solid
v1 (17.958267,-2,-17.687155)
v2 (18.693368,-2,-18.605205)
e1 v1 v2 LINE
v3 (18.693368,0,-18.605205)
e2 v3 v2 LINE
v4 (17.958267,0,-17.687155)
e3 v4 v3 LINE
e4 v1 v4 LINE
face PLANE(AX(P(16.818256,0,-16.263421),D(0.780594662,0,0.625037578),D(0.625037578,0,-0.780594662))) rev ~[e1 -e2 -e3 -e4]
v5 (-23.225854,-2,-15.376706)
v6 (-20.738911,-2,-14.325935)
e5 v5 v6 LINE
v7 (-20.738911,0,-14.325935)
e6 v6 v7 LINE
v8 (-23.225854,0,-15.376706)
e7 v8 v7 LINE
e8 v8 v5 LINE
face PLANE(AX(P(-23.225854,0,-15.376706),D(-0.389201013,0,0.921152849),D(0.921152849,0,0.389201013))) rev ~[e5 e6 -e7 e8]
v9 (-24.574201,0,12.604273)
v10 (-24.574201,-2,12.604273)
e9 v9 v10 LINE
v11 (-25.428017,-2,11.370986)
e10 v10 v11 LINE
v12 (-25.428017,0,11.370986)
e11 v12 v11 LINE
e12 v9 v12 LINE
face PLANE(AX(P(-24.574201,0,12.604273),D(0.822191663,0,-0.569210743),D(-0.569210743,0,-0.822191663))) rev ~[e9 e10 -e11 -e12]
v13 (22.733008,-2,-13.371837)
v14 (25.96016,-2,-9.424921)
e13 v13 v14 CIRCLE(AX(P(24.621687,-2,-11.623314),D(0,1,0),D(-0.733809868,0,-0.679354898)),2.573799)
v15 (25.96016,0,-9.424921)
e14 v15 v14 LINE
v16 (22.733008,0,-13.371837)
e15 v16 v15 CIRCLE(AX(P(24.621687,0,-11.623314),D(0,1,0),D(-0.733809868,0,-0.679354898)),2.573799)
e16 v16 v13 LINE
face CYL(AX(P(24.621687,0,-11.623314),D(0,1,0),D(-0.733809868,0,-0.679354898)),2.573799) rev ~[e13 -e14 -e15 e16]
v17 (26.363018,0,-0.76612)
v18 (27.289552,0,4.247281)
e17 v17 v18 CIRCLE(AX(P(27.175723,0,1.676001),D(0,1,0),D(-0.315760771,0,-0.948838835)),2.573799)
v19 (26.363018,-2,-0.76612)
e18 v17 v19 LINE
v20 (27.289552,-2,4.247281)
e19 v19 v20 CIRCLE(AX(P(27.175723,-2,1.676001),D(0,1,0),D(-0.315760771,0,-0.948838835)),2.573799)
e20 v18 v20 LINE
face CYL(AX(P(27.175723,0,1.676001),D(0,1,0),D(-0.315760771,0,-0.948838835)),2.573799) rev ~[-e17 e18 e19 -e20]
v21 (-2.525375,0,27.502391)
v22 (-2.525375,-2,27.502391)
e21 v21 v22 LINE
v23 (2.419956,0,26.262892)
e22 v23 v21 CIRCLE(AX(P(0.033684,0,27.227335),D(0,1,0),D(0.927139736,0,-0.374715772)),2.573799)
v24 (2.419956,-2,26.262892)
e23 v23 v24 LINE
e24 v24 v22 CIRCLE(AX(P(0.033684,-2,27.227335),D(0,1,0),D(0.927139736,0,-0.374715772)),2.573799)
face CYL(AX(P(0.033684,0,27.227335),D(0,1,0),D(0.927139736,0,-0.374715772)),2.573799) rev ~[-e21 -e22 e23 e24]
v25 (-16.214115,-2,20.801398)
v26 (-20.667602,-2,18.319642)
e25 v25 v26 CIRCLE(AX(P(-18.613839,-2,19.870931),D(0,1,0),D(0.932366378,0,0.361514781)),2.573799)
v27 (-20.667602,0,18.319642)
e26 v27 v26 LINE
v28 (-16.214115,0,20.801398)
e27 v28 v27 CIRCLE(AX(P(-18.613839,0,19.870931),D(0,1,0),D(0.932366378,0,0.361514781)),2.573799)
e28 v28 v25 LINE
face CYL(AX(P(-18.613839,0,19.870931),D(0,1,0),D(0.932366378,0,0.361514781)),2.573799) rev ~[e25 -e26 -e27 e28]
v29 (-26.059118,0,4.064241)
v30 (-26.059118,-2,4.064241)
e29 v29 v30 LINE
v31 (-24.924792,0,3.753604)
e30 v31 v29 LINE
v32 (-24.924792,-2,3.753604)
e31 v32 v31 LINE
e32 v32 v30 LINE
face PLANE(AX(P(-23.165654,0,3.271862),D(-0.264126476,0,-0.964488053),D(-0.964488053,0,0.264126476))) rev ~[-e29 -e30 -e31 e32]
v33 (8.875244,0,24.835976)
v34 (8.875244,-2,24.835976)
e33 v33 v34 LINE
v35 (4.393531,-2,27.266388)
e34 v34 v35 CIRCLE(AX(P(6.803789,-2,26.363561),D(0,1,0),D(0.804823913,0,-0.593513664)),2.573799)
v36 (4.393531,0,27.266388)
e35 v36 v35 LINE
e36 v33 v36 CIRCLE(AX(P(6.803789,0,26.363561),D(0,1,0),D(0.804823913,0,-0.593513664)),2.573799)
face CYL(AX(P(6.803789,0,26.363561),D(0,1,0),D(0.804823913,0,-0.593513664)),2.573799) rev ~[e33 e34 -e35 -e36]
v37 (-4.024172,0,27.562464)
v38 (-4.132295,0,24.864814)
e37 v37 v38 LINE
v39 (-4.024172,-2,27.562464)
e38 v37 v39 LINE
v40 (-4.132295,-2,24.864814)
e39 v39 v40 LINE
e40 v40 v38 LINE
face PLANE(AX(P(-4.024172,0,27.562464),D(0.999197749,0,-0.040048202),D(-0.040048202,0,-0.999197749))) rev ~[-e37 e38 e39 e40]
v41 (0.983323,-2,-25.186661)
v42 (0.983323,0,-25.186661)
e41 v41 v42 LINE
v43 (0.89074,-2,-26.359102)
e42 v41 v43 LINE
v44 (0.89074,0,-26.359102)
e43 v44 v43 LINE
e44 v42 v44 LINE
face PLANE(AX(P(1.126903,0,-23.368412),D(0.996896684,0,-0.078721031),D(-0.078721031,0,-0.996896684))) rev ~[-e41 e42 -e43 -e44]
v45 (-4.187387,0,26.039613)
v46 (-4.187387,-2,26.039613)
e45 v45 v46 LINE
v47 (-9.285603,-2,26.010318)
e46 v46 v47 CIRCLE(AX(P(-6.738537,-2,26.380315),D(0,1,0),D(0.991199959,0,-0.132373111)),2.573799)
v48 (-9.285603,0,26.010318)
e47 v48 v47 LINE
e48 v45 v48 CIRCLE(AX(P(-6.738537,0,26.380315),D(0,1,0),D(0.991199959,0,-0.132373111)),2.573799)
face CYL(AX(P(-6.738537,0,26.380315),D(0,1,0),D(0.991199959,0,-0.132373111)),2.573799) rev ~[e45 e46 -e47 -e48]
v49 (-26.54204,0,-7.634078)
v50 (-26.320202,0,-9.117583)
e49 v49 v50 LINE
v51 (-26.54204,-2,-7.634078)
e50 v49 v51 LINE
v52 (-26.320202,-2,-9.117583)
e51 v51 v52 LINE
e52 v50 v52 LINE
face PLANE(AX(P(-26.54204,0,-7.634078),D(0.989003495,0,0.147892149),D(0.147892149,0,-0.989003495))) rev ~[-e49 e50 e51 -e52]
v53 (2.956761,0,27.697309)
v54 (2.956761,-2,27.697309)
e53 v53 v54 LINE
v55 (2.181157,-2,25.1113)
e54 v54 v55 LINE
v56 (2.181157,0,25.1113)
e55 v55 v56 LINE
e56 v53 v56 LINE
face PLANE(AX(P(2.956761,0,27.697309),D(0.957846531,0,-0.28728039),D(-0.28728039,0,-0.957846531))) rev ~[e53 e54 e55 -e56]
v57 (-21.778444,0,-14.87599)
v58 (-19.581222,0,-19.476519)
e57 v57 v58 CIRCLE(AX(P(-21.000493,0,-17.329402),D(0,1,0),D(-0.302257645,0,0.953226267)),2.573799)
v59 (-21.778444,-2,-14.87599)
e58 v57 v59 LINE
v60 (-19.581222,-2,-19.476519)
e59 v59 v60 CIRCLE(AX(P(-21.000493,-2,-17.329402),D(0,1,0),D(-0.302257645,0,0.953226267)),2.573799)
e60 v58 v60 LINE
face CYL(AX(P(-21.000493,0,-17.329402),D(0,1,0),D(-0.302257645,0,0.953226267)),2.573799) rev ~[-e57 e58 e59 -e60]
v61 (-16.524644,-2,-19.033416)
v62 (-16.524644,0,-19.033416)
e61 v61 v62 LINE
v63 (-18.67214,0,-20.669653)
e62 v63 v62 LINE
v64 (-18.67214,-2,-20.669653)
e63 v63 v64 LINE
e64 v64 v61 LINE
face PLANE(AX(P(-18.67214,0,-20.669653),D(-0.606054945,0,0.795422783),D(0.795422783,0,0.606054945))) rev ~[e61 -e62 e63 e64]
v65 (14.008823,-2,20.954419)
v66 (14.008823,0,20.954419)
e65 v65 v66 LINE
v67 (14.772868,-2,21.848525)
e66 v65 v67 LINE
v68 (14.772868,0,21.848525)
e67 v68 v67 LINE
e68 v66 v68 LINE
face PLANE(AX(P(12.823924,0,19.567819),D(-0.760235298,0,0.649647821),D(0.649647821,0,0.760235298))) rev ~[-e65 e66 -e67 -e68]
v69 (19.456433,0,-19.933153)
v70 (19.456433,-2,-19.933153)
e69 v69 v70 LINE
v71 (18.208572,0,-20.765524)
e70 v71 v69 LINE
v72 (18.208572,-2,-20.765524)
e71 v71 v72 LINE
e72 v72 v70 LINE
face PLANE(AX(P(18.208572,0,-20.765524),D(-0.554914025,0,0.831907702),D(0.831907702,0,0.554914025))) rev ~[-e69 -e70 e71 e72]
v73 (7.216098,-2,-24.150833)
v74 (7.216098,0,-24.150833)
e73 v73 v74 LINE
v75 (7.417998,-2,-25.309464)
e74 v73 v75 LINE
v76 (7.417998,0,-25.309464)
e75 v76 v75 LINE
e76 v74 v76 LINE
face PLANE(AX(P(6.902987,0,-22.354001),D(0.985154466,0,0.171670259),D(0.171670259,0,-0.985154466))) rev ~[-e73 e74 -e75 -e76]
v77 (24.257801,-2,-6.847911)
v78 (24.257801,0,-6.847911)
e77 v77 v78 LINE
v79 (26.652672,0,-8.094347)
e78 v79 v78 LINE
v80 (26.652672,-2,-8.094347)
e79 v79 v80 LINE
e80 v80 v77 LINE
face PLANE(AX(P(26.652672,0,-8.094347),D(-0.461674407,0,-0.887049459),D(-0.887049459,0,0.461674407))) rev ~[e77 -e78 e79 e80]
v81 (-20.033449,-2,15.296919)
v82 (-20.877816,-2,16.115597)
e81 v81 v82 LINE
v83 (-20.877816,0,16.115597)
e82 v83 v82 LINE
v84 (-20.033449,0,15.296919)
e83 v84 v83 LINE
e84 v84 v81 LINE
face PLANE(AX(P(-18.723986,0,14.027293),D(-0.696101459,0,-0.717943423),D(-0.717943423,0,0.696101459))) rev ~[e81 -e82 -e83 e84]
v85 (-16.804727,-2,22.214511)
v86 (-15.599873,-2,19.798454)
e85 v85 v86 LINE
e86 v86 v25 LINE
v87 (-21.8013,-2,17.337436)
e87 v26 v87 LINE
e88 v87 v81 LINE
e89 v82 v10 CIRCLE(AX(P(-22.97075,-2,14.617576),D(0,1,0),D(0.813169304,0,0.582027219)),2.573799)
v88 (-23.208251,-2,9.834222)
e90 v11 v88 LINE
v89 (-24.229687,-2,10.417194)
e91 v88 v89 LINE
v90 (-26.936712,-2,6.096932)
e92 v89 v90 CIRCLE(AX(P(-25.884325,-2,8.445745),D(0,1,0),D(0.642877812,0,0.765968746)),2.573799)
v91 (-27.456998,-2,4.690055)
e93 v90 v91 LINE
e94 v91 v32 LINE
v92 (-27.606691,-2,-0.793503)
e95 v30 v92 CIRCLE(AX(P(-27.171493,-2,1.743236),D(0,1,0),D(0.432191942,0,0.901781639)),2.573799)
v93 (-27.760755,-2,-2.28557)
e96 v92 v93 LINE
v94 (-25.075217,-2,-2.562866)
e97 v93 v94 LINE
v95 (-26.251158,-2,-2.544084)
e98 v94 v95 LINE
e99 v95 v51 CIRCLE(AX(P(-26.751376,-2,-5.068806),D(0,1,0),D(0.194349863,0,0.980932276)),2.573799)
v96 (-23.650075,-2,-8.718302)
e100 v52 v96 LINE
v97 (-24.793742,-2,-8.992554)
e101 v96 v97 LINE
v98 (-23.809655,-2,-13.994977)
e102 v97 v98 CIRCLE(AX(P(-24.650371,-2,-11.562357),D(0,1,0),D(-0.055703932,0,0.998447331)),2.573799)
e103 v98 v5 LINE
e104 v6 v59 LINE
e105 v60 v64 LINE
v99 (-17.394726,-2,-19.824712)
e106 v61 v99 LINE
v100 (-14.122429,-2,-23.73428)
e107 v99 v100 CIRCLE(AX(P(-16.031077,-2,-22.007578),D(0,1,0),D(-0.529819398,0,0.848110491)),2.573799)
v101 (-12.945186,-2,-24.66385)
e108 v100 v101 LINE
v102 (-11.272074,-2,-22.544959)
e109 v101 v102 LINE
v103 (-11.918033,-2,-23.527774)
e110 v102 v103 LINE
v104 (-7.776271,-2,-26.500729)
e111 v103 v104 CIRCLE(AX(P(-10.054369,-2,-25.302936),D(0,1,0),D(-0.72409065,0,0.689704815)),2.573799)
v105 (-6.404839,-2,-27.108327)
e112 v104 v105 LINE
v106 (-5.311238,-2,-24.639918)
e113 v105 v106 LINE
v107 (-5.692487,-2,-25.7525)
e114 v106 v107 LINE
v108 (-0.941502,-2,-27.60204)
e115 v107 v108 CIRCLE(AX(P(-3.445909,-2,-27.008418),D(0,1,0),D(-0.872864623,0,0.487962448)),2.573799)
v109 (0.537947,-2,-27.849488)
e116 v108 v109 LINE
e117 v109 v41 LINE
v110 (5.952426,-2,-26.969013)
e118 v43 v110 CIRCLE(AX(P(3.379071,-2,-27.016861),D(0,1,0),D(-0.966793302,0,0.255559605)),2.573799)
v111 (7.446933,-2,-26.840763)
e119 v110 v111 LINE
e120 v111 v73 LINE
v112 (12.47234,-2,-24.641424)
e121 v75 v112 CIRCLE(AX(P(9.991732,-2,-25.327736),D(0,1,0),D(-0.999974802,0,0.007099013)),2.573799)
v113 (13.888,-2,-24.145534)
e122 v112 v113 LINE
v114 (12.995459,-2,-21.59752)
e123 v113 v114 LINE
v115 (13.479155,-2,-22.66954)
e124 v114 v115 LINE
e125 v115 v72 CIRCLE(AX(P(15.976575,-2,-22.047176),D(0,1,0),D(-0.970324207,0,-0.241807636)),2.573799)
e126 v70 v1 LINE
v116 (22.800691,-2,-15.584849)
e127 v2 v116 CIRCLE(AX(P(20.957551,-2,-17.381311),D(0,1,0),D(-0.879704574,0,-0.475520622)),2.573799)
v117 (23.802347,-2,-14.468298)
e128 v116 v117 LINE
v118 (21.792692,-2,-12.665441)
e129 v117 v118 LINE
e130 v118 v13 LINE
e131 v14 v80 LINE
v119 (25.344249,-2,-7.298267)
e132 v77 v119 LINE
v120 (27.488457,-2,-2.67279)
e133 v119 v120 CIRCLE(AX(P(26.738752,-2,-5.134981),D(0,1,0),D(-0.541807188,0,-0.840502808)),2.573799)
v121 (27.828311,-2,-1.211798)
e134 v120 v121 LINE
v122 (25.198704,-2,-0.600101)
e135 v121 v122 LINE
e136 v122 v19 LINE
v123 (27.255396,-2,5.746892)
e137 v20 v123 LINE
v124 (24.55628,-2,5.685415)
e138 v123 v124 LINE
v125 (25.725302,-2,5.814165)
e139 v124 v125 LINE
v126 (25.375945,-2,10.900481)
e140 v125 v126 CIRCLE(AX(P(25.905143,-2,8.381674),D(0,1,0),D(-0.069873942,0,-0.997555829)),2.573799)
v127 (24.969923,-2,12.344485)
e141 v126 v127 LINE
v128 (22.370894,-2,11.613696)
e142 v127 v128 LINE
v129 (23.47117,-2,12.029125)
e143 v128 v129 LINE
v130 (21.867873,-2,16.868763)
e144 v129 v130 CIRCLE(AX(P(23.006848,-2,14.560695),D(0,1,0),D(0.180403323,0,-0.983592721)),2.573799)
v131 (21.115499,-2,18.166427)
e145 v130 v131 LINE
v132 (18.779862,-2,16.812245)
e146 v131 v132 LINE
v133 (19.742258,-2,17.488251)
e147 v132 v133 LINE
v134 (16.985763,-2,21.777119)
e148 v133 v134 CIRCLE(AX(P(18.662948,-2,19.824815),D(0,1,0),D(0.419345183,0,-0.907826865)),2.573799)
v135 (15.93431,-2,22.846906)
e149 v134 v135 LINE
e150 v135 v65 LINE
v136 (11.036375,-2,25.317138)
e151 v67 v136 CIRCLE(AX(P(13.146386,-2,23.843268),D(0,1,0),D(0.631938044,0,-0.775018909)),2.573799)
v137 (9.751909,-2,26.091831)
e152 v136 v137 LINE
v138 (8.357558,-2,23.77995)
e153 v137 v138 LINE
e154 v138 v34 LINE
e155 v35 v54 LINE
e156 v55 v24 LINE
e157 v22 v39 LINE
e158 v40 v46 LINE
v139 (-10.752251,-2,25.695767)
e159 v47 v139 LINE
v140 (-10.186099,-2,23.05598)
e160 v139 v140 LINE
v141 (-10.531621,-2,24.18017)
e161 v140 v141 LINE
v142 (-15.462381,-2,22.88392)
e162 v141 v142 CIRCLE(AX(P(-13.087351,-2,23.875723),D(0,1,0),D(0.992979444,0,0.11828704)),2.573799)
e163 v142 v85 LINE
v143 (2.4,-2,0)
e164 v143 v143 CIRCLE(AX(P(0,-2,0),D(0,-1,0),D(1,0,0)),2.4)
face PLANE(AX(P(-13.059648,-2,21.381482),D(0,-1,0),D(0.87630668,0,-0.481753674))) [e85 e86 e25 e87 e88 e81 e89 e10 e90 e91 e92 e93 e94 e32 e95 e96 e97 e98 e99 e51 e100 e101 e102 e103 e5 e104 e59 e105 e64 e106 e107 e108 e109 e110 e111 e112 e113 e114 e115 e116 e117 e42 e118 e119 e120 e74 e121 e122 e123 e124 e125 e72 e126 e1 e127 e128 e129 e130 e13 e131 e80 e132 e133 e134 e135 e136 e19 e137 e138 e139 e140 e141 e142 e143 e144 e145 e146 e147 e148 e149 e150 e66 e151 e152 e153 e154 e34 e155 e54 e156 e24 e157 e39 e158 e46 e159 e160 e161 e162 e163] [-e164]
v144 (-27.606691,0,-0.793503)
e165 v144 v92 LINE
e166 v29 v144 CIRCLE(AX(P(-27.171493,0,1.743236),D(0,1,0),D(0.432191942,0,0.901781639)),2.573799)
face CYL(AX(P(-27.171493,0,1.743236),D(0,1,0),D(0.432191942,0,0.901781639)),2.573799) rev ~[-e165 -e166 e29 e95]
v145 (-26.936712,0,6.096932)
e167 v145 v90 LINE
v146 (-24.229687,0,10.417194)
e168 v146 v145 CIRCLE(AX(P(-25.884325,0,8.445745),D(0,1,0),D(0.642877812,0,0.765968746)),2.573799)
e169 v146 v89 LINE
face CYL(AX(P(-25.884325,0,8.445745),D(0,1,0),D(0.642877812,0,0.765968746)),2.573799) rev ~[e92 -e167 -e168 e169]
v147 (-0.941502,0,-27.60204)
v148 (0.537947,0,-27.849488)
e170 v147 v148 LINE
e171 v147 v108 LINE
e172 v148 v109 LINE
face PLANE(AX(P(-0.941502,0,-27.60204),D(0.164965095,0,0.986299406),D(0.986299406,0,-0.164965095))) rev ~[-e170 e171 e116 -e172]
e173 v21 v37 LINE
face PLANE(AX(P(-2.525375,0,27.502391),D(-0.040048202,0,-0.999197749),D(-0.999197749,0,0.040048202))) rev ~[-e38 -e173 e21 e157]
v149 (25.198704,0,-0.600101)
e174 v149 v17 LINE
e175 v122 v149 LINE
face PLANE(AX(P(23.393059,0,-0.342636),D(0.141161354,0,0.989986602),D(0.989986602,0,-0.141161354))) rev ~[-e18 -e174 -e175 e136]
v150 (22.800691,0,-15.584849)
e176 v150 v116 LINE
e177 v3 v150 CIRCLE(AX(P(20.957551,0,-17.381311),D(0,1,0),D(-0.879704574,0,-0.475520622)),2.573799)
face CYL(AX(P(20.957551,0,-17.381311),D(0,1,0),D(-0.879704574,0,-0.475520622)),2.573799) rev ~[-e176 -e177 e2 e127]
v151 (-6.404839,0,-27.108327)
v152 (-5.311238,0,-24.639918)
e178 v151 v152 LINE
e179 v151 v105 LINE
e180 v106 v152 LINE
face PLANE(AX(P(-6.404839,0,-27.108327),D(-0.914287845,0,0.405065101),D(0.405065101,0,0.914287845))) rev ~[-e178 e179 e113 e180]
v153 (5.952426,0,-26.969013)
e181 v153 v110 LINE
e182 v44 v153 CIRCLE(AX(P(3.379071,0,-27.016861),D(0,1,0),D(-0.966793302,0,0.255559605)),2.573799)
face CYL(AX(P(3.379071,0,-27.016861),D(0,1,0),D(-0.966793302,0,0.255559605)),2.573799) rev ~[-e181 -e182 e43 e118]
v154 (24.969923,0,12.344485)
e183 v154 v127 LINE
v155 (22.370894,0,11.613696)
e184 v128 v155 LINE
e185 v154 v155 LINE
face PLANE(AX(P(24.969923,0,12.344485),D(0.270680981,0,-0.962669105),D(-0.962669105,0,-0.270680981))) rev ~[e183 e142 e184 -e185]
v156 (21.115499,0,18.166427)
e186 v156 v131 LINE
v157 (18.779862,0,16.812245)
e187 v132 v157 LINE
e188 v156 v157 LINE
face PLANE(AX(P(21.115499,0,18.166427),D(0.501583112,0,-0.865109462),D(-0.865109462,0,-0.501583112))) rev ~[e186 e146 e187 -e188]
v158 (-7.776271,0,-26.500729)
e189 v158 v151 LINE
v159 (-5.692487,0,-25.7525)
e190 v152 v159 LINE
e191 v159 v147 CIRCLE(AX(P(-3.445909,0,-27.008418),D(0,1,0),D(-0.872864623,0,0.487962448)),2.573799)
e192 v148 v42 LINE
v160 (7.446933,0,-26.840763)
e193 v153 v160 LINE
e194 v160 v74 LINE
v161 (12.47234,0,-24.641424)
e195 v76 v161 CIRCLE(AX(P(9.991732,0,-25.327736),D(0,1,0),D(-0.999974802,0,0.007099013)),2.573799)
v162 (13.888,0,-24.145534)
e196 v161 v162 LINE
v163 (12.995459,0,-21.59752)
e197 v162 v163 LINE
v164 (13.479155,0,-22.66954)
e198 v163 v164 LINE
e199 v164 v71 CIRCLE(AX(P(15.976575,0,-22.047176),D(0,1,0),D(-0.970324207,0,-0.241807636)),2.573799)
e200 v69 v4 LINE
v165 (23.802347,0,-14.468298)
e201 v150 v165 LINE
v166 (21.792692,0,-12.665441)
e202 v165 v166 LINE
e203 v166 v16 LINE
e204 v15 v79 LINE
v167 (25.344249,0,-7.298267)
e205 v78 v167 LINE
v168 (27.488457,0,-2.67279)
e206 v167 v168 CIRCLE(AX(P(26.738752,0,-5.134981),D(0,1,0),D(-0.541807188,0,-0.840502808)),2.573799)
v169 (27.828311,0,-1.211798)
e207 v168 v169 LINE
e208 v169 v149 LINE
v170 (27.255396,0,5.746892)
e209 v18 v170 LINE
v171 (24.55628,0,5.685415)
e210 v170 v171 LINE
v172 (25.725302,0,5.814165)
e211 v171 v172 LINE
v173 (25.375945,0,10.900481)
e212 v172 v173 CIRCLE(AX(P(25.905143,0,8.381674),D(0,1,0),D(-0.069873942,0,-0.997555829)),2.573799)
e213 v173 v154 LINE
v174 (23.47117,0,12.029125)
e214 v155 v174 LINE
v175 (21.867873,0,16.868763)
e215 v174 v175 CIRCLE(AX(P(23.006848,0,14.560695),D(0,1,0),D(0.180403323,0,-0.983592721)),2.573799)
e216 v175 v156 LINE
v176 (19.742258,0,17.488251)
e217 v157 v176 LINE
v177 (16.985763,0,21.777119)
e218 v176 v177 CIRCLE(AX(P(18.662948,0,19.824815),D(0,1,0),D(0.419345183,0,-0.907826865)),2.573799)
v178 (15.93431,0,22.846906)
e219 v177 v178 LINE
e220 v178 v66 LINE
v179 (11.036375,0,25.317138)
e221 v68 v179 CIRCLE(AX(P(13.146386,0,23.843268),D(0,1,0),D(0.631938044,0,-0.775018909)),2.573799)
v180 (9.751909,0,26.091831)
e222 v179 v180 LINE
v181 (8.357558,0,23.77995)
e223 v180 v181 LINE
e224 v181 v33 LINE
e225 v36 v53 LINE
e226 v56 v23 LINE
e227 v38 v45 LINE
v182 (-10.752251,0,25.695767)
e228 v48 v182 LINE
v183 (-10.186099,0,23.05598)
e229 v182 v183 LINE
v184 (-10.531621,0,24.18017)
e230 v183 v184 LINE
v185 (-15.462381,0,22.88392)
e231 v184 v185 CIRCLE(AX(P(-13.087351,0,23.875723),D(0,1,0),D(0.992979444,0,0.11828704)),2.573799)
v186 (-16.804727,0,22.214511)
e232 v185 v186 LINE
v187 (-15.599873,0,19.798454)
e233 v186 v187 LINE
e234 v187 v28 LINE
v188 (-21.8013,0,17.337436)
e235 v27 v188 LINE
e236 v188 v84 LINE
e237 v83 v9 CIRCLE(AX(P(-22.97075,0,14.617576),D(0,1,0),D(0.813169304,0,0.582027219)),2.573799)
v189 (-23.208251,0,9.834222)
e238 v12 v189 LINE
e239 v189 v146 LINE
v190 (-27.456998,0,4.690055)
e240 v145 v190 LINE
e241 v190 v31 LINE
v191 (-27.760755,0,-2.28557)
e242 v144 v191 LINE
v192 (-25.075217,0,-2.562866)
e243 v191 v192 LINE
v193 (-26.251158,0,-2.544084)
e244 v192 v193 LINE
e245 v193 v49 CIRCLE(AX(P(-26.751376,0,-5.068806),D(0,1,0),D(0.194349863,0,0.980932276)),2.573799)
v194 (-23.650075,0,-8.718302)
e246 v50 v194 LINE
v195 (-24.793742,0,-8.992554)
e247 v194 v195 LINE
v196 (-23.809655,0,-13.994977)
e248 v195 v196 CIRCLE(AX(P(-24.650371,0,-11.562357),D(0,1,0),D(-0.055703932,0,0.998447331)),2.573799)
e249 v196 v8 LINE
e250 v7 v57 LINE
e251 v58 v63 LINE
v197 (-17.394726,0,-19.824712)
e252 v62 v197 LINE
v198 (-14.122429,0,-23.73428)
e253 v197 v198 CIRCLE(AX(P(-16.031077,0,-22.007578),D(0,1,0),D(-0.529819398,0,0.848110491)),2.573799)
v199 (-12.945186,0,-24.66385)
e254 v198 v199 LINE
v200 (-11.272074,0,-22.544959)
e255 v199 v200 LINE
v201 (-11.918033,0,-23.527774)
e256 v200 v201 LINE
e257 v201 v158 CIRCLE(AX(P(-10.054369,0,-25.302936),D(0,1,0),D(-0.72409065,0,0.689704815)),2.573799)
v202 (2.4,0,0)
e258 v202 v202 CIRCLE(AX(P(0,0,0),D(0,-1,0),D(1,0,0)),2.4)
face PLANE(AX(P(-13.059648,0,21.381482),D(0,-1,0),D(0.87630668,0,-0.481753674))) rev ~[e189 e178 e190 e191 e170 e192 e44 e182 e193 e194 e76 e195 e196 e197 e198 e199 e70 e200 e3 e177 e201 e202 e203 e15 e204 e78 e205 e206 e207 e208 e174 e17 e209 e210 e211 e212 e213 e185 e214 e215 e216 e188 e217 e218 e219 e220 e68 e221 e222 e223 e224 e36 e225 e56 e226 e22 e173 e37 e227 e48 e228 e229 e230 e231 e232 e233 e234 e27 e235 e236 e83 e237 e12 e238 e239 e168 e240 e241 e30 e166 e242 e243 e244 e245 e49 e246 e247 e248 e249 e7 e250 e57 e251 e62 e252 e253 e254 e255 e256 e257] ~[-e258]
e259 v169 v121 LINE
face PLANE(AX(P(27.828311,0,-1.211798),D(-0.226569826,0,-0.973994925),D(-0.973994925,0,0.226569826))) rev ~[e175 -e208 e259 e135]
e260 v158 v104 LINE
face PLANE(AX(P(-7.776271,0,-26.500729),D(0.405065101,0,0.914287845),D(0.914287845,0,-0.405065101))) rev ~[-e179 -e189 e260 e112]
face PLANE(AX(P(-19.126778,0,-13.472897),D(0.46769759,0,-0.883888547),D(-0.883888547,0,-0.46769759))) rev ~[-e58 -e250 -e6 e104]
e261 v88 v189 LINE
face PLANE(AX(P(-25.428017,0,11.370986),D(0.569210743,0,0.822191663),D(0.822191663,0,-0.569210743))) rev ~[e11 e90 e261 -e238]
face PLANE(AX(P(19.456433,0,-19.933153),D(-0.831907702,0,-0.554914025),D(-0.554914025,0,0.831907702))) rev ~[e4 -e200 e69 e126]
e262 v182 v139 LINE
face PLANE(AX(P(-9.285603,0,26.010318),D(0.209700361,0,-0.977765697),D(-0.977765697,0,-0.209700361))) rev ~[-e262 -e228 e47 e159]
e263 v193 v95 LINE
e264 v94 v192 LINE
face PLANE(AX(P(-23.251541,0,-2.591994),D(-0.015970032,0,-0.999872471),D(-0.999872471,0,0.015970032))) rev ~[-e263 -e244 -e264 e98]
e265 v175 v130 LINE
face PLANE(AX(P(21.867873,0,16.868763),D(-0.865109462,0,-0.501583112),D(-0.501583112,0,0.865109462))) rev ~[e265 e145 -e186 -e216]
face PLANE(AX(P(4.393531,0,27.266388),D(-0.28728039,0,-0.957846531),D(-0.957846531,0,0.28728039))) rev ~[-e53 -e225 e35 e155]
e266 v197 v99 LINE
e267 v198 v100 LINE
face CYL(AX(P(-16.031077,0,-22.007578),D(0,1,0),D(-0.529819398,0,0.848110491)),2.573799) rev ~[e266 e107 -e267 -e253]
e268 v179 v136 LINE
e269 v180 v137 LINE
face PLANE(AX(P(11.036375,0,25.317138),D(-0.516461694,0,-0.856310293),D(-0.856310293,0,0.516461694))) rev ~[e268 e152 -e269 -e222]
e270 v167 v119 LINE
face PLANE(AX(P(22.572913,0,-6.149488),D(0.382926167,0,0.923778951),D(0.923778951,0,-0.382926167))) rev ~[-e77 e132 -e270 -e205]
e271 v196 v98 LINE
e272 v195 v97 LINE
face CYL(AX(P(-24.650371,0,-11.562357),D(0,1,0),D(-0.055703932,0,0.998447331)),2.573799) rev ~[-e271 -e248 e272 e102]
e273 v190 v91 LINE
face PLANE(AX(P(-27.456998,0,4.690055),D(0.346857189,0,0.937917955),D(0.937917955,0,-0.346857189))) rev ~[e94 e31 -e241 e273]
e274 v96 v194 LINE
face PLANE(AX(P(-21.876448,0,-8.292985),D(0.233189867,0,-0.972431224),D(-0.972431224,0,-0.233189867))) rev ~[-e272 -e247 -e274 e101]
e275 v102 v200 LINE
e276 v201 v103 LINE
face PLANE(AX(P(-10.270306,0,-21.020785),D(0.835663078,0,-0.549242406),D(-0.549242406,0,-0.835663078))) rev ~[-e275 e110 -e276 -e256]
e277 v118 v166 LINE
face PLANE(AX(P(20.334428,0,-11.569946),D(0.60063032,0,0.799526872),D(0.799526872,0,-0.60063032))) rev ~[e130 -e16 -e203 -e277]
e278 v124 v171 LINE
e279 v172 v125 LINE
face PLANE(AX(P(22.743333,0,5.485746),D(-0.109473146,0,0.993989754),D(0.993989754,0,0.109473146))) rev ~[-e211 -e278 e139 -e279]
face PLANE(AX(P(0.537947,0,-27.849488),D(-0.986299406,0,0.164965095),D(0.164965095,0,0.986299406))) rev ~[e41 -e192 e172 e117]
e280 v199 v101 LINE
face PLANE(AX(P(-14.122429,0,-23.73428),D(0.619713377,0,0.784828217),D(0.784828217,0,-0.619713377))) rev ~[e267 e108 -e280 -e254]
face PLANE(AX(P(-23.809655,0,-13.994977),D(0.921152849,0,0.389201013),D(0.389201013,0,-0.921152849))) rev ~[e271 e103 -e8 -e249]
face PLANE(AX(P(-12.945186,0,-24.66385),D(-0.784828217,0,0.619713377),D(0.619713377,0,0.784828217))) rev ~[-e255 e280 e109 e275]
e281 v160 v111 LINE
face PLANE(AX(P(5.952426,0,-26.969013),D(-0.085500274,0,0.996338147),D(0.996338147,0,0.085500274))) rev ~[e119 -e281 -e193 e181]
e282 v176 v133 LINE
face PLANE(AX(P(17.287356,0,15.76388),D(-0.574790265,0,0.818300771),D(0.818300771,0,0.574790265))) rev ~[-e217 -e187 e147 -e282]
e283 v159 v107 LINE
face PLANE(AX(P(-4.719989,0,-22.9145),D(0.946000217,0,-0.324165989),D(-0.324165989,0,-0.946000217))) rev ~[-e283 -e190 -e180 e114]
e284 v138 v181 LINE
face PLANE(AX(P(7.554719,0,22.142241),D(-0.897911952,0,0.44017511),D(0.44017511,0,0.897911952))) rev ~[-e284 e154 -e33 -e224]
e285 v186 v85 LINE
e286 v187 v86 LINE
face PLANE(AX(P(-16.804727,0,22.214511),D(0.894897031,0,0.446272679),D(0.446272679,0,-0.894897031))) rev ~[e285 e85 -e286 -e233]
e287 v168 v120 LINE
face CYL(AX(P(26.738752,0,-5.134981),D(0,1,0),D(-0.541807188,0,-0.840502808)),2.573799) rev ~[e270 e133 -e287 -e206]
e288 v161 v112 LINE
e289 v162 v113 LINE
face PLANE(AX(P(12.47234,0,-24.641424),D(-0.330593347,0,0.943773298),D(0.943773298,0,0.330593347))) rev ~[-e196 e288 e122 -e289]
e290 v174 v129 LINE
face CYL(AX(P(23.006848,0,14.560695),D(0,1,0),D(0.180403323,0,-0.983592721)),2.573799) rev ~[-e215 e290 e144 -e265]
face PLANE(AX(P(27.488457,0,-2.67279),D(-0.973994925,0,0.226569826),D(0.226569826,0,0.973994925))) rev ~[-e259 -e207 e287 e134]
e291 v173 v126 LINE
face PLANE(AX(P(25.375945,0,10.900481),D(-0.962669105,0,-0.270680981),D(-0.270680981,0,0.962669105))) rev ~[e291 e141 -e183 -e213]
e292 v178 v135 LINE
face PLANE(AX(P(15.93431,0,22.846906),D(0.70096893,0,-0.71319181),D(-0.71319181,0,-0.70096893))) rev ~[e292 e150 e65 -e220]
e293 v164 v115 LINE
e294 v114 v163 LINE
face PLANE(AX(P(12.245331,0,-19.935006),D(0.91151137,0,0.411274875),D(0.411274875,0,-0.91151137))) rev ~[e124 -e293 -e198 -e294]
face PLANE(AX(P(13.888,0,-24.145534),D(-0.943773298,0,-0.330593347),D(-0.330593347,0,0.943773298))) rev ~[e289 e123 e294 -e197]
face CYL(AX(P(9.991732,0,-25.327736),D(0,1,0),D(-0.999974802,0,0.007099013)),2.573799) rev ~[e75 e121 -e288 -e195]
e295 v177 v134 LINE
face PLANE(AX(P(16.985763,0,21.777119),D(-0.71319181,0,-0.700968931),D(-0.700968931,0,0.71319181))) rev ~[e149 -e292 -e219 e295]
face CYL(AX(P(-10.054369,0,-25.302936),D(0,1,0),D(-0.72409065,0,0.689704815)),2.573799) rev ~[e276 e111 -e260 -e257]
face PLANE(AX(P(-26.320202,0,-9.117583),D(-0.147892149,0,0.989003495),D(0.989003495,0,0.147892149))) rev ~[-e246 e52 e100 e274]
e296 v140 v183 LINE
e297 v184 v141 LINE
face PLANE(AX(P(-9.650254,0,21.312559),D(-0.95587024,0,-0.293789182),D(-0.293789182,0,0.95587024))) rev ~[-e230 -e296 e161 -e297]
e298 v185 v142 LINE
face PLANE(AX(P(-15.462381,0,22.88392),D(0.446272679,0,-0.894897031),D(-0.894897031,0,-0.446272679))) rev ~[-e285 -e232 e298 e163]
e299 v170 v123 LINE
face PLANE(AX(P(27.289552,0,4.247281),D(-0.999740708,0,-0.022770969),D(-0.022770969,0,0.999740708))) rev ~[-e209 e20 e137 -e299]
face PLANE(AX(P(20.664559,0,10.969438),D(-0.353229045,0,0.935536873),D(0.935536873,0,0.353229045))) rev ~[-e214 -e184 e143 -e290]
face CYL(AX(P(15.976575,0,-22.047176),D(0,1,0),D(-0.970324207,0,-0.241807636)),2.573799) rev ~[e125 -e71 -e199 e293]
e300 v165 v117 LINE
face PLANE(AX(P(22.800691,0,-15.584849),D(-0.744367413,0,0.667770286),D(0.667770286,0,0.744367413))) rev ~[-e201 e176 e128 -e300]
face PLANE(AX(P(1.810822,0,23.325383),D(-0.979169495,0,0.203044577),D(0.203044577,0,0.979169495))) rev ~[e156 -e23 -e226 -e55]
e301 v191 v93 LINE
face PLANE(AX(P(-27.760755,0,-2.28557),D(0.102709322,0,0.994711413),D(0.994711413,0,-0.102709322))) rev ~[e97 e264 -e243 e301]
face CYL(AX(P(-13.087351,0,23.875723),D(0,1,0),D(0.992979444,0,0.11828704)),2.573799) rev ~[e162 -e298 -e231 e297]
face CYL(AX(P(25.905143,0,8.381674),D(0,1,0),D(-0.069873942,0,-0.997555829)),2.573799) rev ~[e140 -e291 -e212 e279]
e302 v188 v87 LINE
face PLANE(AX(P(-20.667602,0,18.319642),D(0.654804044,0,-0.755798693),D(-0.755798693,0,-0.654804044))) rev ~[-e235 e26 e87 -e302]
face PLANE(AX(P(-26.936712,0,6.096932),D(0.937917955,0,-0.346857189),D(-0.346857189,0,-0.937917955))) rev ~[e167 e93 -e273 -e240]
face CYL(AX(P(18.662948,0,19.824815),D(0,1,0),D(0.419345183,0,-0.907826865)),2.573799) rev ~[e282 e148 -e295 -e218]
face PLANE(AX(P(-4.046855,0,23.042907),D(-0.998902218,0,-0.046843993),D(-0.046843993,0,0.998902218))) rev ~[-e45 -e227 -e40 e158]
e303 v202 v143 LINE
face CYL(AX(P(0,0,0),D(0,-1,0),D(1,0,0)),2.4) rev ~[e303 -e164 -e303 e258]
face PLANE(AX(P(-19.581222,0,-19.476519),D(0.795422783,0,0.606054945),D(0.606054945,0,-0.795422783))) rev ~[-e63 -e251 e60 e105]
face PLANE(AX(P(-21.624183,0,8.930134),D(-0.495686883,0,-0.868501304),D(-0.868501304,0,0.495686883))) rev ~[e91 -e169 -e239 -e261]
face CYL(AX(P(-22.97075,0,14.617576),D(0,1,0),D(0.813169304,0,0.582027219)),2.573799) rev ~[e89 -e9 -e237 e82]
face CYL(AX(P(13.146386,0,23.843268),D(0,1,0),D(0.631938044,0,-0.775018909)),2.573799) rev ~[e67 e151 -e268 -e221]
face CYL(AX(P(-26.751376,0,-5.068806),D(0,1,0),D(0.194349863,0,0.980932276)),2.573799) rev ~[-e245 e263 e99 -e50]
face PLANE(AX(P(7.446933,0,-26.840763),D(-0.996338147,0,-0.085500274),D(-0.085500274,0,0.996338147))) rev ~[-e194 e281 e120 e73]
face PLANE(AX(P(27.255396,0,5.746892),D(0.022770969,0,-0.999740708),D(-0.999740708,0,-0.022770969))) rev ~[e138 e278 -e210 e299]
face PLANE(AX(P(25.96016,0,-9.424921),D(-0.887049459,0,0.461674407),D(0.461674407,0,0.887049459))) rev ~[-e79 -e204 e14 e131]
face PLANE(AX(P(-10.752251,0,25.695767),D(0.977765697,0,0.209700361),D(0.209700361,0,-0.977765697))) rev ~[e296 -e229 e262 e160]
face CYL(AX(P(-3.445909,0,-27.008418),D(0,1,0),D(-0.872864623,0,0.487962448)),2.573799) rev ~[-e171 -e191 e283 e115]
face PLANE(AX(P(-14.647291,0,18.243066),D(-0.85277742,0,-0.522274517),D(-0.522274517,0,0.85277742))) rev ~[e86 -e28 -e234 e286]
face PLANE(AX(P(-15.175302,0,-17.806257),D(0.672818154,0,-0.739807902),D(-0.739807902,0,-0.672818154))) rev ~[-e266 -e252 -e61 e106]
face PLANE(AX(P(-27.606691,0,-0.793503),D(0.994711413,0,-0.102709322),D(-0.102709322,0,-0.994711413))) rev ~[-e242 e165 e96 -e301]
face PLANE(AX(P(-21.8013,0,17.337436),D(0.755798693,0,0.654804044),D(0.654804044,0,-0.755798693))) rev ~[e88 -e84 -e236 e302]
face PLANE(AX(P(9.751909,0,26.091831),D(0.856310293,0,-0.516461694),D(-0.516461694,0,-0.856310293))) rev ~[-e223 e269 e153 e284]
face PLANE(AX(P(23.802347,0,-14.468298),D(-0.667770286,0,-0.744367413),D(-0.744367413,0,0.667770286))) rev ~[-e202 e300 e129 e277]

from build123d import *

# Parameters (mm, degrees)
F1_DEPTH = 2
F2_COUNT = 25
F3_DEPTH = 2
F0_R     = 1.3791907975
F4_R     = 24.1789897238
F5_DEPTH = 2
F6_R     = 2.4
F7_DEPTH = 12.5


with BuildPart() as f1:
    # F0 (on Front) → F1 (new body)
    with BuildSketch(Plane.XZ):
        with BuildLine():
            ThreePointArc((-20.8778160203, 16.1155972919), (-21.1981117968, 12.751512491), (-24.5742007448, 12.6042734059))
            Line((-24.5742007448, 12.6042734059), (-25.4280168593, 11.3709859121))
            Line((-25.4280168593, 11.3709859121), (-22.1392502091, 9.0941429398))
            Line((-22.1392502091, 9.0941429398), (-18.7239857507, 14.0272929152))
            Line((-18.7239857507, 14.0272929152), (-20.8778160203, 16.1155972919))
        make_face()
    extrude(amount=F1_DEPTH)


with BuildPart() as f2_1:
    # F2: instance of F1
    add(f1.part.rotate(Axis((0, 0, 0), (0, -1, 0)), 1 * 360 / F2_COUNT))


with BuildPart() as f2_2:
    # F2: instance of F1
    add(f1.part.rotate(Axis((0, 0, 0), (0, -1, 0)), 2 * 360 / F2_COUNT))


with BuildPart() as f2_3:
    # F2: instance of F1
    add(f1.part.rotate(Axis((0, 0, 0), (0, -1, 0)), 3 * 360 / F2_COUNT))


with BuildPart() as f2_4:
    # F2: instance of F1
    add(f1.part.rotate(Axis((0, 0, 0), (0, -1, 0)), 4 * 360 / F2_COUNT))


with BuildPart() as f2_5:
    # F2: instance of F1
    add(f1.part.rotate(Axis((0, 0, 0), (0, -1, 0)), 5 * 360 / F2_COUNT))


with BuildPart() as f2_6:
    # F2: instance of F1
    add(f1.part.rotate(Axis((0, 0, 0), (0, -1, 0)), 6 * 360 / F2_COUNT))


with BuildPart() as f2_7:
    # F2: instance of F1
    add(f1.part.rotate(Axis((0, 0, 0), (0, -1, 0)), 7 * 360 / F2_COUNT))


with BuildPart() as f2_8:
    # F2: instance of F1
    add(f1.part.rotate(Axis((0, 0, 0), (0, -1, 0)), 8 * 360 / F2_COUNT))


with BuildPart() as f2_9:
    # F2: instance of F1
    add(f1.part.rotate(Axis((0, 0, 0), (0, -1, 0)), 9 * 360 / F2_COUNT))


with BuildPart() as f2_10:
    # F2: instance of F1
    add(f1.part.rotate(Axis((0, 0, 0), (0, -1, 0)), 10 * 360 / F2_COUNT))


with BuildPart() as f2_11:
    # F2: instance of F1
    add(f1.part.rotate(Axis((0, 0, 0), (0, -1, 0)), 11 * 360 / F2_COUNT))


with BuildPart() as f2_12:
    # F2: instance of F1
    add(f1.part.rotate(Axis((0, 0, 0), (0, -1, 0)), 12 * 360 / F2_COUNT))


with BuildPart() as f2_13:
    # F2: instance of F1
    add(f1.part.rotate(Axis((0, 0, 0), (0, -1, 0)), 13 * 360 / F2_COUNT))


with BuildPart() as f2_14:
    # F2: instance of F1
    add(f1.part.rotate(Axis((0, 0, 0), (0, -1, 0)), 14 * 360 / F2_COUNT))


with BuildPart() as f2_15:
    # F2: instance of F1
    add(f1.part.rotate(Axis((0, 0, 0), (0, -1, 0)), 15 * 360 / F2_COUNT))


with BuildPart() as f2_16:
    # F2: instance of F1
    add(f1.part.rotate(Axis((0, 0, 0), (0, -1, 0)), 16 * 360 / F2_COUNT))


with BuildPart() as f2_17:
    # F2: instance of F1
    add(f1.part.rotate(Axis((0, 0, 0), (0, -1, 0)), 17 * 360 / F2_COUNT))


with BuildPart() as f2_18:
    # F2: instance of F1
    add(f1.part.rotate(Axis((0, 0, 0), (0, -1, 0)), 18 * 360 / F2_COUNT))


with BuildPart() as f2_19:
    # F2: instance of F1
    add(f1.part.rotate(Axis((0, 0, 0), (0, -1, 0)), 19 * 360 / F2_COUNT))


with BuildPart() as f2_20:
    # F2: instance of F1
    add(f1.part.rotate(Axis((0, 0, 0), (0, -1, 0)), 20 * 360 / F2_COUNT))


with BuildPart() as f2_21:
    # F2: instance of F1
    add(f1.part.rotate(Axis((0, 0, 0), (0, -1, 0)), 21 * 360 / F2_COUNT))


with BuildPart() as f2_22:
    # F2: instance of F1
    add(f1.part.rotate(Axis((0, 0, 0), (0, -1, 0)), 22 * 360 / F2_COUNT))


with BuildPart() as f2_23:
    # F2: instance of F1
    add(f1.part.rotate(Axis((0, 0, 0), (0, -1, 0)), 23 * 360 / F2_COUNT))


with BuildPart() as f2_24:
    # F2: instance of F1
    add(f1.part.rotate(Axis((0, 0, 0), (0, -1, 0)), 24 * 360 / F2_COUNT))


with BuildPart() as f1_1:
    add(f1.part)

    add(f2_1.part)  # F3 merges F2_1

    add(f2_24.part)  # F3 merges F2_24
    # F0 (on Front) → F3 (join)
    with BuildSketch(Plane.XZ):
        with BuildLine():
            ThreePointArc((-20.8778160203, 16.1155972919), (-21.1981117968, 12.751512491), (-24.5742007448, 12.6042734059))
            Line((-24.5742007448, 12.6042734059), (-25.4280168593, 11.3709859121))
            Line((-25.4280168593, 11.3709859121), (-22.1392502091, 9.0941429398))
            Line((-22.1392502091, 9.0941429398), (-18.7239857507, 14.0272929152))
            Line((-18.7239857507, 14.0272929152), (-20.8778160203, 16.1155972919))
        make_face()
    extrude(amount=F3_DEPTH)

    add(f2_2.part)  # F5 merges F2_2

    add(f2_3.part)  # F5 merges F2_3

    add(f2_4.part)  # F5 merges F2_4

    add(f2_5.part)  # F5 merges F2_5

    add(f2_6.part)  # F5 merges F2_6

    add(f2_7.part)  # F5 merges F2_7

    add(f2_8.part)  # F5 merges F2_8

    add(f2_9.part)  # F5 merges F2_9

    add(f2_10.part)  # F5 merges F2_10

    add(f2_11.part)  # F5 merges F2_11

    add(f2_12.part)  # F5 merges F2_12

    add(f2_13.part)  # F5 merges F2_13

    add(f2_14.part)  # F5 merges F2_14

    add(f2_15.part)  # F5 merges F2_15

    add(f2_16.part)  # F5 merges F2_16

    add(f2_17.part)  # F5 merges F2_17

    add(f2_18.part)  # F5 merges F2_18

    add(f2_19.part)  # F5 merges F2_19

    add(f2_20.part)  # F5 merges F2_20

    add(f2_21.part)  # F5 merges F2_21

    add(f2_22.part)  # F5 merges F2_22

    add(f2_23.part)  # F5 merges F2_23


with BuildPart() as f3:
    # F0 (on Front) → F3, piece 2 (new body)
    with BuildSketch(Plane.XZ):
        Circle(F0_R)
    extrude(amount=F3_DEPTH)


with BuildPart() as f1_2:
    add(f1_1.part)

    add(f3.part)  # F5 merges F3
    # F4 (on Front) → F5 (join)
    with BuildSketch(Plane.XZ):
        Circle(F4_R)
    extrude(amount=F5_DEPTH)

    # F6 (on Front) → F7 (cut, symmetric)
    with BuildSketch(Plane.XZ):
        Circle(F6_R)
    extrude(amount=F7_DEPTH, both=True, mode=Mode.SUBTRACT)


solid = f1_2.part
